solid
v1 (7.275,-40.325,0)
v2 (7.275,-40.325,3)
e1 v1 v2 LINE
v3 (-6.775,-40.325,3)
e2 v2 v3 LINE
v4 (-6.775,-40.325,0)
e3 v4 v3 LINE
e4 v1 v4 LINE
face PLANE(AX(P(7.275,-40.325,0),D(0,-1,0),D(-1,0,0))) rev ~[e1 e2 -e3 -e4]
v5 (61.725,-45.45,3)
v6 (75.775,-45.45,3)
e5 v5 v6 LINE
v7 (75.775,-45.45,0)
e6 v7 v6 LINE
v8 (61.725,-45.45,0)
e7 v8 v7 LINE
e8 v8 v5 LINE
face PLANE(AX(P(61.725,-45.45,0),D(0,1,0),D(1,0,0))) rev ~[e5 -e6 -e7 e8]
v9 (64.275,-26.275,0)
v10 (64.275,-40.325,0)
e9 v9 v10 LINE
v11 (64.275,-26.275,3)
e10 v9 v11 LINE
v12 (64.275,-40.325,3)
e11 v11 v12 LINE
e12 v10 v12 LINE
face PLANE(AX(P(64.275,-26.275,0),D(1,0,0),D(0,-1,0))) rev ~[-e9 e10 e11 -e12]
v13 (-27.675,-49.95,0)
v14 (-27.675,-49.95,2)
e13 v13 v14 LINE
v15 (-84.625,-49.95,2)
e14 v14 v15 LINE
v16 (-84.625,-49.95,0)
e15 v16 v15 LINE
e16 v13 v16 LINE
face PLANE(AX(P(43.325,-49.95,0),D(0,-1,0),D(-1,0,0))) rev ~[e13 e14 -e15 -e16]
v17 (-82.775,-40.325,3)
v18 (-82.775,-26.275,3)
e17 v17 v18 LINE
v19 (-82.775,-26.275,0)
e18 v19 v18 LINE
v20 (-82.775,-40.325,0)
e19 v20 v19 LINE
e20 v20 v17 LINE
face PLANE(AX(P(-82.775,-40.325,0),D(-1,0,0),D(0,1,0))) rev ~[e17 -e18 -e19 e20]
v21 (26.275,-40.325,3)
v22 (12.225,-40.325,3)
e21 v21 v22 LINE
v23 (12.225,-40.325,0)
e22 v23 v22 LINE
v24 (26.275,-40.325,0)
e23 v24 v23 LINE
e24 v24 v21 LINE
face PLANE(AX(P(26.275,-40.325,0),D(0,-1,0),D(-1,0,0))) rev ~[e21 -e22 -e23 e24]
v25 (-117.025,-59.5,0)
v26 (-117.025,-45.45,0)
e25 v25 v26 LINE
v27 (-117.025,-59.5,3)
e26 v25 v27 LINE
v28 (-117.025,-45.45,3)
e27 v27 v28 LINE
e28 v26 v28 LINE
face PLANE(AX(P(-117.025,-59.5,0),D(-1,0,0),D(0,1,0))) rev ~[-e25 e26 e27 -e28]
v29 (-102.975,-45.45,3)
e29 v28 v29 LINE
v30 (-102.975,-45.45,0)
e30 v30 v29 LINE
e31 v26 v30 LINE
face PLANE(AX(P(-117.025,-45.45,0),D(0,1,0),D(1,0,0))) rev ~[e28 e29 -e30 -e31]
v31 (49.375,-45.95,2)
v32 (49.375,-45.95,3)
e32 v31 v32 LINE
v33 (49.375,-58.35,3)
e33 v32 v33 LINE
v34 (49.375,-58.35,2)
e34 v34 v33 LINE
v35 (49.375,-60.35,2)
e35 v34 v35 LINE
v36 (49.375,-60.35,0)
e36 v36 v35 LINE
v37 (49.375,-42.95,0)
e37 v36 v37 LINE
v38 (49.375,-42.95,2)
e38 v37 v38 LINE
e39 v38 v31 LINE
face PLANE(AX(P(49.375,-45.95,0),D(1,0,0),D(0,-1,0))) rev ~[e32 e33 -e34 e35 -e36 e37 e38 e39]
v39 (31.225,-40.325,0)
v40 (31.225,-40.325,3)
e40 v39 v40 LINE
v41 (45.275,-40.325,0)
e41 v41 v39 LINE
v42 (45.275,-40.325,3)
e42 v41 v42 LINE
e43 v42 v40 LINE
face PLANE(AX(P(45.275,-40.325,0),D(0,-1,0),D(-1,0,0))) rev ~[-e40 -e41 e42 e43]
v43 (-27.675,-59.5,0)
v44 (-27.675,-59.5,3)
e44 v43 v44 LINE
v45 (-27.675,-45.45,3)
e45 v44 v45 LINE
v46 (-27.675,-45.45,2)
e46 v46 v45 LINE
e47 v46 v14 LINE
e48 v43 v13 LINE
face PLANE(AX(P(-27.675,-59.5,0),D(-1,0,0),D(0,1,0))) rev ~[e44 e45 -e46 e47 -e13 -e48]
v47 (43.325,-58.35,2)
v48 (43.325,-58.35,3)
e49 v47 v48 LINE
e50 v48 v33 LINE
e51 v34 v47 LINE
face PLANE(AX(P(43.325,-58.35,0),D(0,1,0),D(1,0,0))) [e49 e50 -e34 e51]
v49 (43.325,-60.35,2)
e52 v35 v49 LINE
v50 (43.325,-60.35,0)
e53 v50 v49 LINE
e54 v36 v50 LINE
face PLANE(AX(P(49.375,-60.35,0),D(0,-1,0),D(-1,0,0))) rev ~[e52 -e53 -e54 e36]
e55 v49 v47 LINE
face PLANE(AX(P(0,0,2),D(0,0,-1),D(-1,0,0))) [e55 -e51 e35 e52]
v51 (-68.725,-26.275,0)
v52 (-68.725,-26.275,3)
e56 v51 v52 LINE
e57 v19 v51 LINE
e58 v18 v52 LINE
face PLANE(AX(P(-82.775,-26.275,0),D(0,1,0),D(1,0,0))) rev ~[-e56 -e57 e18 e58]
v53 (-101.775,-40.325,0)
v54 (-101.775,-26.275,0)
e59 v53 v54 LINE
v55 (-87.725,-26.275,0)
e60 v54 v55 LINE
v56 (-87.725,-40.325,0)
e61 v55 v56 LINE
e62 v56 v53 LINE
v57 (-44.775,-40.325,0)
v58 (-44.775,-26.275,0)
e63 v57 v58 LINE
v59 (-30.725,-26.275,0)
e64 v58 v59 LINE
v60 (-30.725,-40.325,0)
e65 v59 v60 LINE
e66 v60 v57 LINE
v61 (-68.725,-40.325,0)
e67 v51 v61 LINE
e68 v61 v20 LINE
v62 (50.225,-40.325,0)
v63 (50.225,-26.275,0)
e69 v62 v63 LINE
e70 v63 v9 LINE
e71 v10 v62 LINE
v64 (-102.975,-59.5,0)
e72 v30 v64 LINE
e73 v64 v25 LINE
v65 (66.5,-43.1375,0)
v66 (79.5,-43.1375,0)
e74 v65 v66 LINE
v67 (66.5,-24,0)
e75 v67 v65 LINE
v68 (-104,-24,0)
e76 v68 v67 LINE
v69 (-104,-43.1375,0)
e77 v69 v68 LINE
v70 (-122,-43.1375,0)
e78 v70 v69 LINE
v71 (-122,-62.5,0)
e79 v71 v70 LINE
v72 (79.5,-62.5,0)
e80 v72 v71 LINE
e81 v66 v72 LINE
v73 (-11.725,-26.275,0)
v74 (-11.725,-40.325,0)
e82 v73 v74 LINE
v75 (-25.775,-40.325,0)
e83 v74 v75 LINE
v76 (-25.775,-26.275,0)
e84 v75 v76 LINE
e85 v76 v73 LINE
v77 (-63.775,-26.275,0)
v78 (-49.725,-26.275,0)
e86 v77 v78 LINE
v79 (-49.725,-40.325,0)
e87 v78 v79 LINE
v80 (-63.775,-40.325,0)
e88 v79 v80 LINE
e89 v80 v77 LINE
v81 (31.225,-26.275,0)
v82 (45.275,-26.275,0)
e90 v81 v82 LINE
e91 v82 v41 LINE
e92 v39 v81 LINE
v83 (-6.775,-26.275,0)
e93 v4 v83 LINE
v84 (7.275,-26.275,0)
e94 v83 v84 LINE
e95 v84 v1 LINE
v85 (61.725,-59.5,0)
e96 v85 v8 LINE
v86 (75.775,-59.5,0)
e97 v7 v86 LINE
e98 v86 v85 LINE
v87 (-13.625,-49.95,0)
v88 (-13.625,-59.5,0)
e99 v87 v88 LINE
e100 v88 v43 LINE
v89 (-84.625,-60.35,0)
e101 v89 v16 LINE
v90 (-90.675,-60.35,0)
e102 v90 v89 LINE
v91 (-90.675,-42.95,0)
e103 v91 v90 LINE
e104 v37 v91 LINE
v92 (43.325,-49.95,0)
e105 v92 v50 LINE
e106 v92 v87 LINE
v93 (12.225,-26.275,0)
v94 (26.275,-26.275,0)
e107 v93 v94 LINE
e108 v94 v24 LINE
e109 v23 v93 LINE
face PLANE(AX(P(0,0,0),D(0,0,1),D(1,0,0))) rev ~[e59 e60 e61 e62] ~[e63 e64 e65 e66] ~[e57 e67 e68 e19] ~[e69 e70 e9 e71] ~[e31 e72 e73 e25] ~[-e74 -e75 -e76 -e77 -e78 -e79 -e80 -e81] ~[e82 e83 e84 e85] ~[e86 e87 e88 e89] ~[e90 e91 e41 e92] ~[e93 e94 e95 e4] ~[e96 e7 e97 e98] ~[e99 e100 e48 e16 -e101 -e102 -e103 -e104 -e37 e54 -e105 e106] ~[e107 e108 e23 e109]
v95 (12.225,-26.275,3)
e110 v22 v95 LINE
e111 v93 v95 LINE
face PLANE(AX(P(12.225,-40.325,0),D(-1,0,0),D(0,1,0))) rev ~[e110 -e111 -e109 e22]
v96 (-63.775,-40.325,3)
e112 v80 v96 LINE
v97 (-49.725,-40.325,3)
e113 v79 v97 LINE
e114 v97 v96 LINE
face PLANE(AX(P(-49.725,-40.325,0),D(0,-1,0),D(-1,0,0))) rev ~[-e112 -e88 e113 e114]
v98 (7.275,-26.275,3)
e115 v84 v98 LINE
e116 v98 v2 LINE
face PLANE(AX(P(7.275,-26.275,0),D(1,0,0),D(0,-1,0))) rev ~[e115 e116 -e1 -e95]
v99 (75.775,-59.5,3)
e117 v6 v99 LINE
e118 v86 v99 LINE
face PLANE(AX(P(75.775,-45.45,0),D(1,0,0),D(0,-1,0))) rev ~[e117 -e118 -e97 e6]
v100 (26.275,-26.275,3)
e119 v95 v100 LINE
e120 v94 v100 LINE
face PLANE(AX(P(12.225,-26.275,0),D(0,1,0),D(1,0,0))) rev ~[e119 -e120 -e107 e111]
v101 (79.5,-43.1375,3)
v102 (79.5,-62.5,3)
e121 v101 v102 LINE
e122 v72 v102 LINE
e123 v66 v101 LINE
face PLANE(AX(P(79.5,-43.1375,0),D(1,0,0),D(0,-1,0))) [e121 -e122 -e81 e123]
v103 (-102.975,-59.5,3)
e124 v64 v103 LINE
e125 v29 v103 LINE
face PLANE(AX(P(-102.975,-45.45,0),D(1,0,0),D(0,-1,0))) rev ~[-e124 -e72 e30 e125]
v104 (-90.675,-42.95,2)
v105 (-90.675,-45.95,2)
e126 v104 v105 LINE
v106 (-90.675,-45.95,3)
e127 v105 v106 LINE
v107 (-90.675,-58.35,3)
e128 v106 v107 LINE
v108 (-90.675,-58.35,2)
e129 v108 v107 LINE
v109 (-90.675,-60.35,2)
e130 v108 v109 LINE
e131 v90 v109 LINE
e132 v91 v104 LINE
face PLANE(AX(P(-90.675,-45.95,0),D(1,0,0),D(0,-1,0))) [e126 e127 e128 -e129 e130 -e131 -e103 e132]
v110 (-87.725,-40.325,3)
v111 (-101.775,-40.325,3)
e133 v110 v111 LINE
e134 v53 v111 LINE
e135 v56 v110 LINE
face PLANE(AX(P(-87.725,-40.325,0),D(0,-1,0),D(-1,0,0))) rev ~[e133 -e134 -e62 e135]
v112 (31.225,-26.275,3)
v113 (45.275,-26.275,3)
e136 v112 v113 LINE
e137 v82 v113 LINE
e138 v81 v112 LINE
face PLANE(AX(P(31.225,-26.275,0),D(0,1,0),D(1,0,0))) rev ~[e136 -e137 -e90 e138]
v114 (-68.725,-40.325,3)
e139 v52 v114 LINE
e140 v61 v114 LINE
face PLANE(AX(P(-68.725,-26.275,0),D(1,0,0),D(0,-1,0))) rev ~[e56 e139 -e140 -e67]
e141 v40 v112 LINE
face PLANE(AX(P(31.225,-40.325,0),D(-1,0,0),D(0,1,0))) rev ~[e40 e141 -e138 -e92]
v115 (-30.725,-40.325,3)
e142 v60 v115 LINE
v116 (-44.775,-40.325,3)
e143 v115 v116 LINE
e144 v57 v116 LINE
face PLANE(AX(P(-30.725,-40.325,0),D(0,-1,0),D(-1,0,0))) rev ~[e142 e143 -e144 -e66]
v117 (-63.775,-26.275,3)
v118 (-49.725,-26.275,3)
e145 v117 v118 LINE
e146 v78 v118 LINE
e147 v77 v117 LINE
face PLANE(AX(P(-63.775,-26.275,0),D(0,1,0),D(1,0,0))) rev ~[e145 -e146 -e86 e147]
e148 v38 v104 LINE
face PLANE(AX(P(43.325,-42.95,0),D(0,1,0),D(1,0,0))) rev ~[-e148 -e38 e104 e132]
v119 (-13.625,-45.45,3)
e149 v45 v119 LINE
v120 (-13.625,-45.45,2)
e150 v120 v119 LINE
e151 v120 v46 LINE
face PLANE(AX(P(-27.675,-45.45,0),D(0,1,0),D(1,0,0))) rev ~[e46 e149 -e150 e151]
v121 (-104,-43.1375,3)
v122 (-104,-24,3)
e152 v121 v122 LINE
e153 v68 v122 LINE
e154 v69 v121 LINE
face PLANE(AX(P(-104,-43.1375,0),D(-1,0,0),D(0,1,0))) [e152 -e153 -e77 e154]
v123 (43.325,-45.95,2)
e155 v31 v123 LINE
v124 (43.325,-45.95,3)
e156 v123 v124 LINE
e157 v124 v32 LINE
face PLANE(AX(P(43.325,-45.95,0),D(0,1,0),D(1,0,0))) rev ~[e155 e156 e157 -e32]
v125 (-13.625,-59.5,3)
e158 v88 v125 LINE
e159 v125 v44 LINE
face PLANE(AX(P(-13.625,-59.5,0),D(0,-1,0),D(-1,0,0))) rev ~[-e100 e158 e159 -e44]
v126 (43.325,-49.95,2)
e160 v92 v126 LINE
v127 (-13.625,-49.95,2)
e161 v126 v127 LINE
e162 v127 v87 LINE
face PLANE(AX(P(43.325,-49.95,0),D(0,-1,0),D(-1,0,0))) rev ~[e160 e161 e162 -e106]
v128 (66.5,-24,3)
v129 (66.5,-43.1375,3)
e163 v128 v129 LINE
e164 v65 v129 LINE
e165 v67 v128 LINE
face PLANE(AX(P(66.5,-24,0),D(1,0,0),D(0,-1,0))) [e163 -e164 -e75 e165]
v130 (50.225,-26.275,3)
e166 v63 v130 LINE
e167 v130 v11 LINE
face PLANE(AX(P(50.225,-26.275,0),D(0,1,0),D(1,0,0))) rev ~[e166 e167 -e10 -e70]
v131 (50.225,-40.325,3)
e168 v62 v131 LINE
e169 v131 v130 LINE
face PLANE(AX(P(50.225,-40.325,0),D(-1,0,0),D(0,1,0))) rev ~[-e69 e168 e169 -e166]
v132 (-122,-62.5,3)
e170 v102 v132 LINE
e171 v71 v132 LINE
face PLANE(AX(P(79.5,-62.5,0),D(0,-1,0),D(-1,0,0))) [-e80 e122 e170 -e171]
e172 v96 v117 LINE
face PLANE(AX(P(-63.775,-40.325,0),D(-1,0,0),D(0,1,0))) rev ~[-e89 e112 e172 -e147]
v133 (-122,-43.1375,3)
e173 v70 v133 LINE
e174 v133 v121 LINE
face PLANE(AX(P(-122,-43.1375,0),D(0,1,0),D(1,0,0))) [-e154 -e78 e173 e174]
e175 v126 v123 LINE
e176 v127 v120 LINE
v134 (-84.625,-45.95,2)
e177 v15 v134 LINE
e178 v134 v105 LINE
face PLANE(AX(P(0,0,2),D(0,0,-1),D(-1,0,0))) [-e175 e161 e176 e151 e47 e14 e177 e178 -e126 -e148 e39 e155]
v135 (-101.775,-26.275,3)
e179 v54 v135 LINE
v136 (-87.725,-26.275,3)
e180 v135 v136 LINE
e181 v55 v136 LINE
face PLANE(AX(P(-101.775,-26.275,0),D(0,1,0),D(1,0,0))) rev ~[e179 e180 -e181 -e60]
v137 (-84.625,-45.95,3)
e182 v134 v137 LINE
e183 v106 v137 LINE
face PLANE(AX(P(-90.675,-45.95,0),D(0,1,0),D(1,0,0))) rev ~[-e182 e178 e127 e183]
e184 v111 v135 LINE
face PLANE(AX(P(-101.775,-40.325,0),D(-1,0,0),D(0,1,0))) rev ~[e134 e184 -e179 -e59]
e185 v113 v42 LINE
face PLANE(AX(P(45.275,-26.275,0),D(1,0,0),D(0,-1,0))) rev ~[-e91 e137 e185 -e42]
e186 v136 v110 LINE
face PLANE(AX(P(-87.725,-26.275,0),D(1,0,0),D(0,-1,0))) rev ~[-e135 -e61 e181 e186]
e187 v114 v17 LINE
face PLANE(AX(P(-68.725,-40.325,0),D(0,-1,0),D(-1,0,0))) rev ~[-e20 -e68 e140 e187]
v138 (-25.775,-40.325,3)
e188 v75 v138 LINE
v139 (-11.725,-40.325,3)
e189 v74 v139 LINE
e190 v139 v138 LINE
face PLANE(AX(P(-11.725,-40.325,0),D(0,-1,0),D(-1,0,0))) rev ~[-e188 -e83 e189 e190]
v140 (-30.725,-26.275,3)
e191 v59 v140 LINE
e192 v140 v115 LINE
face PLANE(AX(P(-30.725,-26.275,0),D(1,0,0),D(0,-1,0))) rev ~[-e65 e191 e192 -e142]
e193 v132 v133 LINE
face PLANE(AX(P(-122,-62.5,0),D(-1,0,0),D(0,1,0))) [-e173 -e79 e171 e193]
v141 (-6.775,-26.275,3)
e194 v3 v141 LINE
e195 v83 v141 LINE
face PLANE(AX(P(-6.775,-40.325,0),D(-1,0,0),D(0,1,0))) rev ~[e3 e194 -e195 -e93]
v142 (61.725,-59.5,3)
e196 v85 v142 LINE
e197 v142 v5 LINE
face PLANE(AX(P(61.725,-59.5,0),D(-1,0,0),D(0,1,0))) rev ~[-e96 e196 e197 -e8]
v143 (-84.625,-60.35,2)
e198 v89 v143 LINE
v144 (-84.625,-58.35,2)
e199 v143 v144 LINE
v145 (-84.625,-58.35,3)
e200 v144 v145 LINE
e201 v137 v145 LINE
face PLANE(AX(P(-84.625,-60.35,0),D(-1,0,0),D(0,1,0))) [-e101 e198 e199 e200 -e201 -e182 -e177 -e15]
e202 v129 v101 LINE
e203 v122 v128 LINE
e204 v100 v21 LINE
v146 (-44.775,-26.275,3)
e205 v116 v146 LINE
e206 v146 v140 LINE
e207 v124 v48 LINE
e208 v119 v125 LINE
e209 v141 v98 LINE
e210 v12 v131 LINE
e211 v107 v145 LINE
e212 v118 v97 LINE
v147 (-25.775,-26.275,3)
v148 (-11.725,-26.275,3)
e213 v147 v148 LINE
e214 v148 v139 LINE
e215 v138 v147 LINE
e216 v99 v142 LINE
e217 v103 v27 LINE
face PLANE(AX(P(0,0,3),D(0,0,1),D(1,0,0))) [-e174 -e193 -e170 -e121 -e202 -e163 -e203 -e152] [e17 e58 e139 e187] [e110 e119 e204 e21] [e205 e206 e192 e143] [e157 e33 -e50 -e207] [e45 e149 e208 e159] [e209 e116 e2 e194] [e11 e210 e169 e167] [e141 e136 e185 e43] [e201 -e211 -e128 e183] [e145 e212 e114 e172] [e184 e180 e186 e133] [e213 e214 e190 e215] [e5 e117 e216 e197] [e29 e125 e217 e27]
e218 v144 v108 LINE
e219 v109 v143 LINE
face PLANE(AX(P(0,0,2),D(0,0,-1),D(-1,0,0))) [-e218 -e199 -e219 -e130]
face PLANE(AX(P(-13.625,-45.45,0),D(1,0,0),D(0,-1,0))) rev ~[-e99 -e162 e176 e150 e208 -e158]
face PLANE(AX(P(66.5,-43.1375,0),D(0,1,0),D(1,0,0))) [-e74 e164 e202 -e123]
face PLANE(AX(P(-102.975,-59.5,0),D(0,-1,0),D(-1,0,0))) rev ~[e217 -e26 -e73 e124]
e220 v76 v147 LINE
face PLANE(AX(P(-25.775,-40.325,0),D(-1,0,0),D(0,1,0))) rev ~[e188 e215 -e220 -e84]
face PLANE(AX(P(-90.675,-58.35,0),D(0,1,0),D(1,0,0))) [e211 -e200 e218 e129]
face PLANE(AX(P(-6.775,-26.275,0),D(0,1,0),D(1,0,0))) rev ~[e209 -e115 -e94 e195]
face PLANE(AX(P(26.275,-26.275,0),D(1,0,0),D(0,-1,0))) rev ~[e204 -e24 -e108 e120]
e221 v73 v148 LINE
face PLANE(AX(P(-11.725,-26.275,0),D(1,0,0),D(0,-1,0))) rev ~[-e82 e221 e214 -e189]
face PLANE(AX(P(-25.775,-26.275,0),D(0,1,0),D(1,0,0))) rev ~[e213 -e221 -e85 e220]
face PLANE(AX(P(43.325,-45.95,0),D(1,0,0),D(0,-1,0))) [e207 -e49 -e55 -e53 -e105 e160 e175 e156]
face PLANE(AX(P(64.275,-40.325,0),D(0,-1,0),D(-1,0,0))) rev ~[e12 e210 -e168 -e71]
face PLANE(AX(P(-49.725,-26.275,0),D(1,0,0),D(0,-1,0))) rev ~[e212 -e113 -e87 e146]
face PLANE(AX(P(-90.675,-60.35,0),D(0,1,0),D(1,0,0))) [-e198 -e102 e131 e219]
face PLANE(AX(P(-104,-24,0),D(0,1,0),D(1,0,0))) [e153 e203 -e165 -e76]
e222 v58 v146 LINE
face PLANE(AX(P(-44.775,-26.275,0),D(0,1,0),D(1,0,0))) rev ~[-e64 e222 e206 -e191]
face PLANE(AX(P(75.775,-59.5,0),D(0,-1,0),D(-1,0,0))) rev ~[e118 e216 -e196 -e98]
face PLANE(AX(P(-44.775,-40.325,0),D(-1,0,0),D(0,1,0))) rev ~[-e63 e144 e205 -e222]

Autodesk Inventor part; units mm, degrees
ref_plane "YZ Plane" through (0, 0, 0) normal (1, 0, 0) x (0, 1, 0)
ref_plane "XZ Plane" through (0, 0, 0) normal (0, 1, 0) x (-1, 0, 0)
ref_plane "XY Plane" through (0, 0, 0) normal (0, 0, 1) x (1, 0, 0)
sketch "Sketch1" plane through (0, 0, 0) normal (0, 0, 1) x (1, 0, 0)
  line L0 (31.275, 11.925) -> (31.275, -2.125) construction
  line L1 (31.275, -2.125) -> (17.225, -2.125) construction
  line L2 (17.225, -2.125) -> (17.225, 11.925) construction
  line L3 (17.225, 11.925) -> (31.275, 11.925) construction
  line L4 (-101.725, 11.925) -> (-101.725, -2.125) construction
  line L5 (-101.725, -2.125) -> (-115.775, -2.125) construction
  line L6 (-115.775, -2.125) -> (-115.775, 11.925) construction
  line L7 (-115.775, 11.925) -> (-101.725, 11.925) construction
  line L8 (43.325, -43.95) -> (49.375, -43.95) construction
  line L9 (49.375, -43.95) -> (49.375, -61) construction
  line L10 (49.375, -61) -> (43.325, -61) construction
  line L11 (43.325, -61) -> (43.325, -43.95) construction
  line L12 (117.95, -19.8) -> (117.95, -13.75) construction
  line L13 (117.95, -13.75) -> (135, -13.75) construction
  line L14 (135, -13.75) -> (135, -19.8) construction
  line L15 (135, -19.8) -> (117.95, -19.8) construction
  line L16 (26.325, -43.95) -> (32.375, -43.95) construction
  line L17 (32.375, -43.95) -> (32.375, -61) construction
  line L18 (32.375, -61) -> (26.325, -61) construction
  line L19 (26.325, -61) -> (26.325, -43.95) construction
  line L20 (-152.525, 13.425) -> (-146.475, 13.425) construction
  line L21 (-146.475, 13.425) -> (-146.475, -3.625) construction
  line L22 (-146.475, -3.625) -> (-152.525, -3.625) construction
  line L23 (-152.525, -3.625) -> (-152.525, 13.425) construction
  line L24 (-90.675, -43.95) -> (-84.625, -43.95) construction
  line L25 (-84.625, -43.95) -> (-84.625, -61) construction
  line L26 (-84.625, -61) -> (-90.675, -61) construction
  line L27 (-90.675, -61) -> (-90.675, -43.95) construction
  line L28 (39.375, -43.95) -> (39.375, -61) construction
  line L29 (39.375, -61) -> (33.325, -61) construction
  line L30 (33.325, -61) -> (33.325, -43.95) construction
  line L31 (33.325, -43.95) -> (39.375, -43.95) construction
  line L32 (117.95, 4.2) -> (117.95, 10.25) construction
  line L33 (117.95, 10.25) -> (135, 10.25) construction
  line L34 (135, 10.25) -> (135, 4.2) construction
  line L35 (135, 4.2) -> (117.95, 4.2) construction
  line L36 (-67.625, -43.95) -> (-67.625, -61) construction
  line L37 (-67.625, -61) -> (-73.675, -61) construction
  line L38 (-73.675, -61) -> (-73.675, -43.95) construction
  line L39 (-73.675, -43.95) -> (-67.625, -43.95) construction
  line L40 (-128.525, 13.425) -> (-122.475, 13.425) construction
  line L41 (-122.475, 13.425) -> (-122.475, -3.625) construction
  line L42 (-122.475, -3.625) -> (-128.525, -3.625) construction
  line L43 (-128.525, -3.625) -> (-128.525, 13.425) construction
  line L44 (-74.625, -43.95) -> (-74.625, -61) construction
  line L45 (-74.625, -61) -> (-80.675, -61) construction
  line L46 (-80.675, -61) -> (-80.675, -43.95) construction
  line L47 (-80.675, -43.95) -> (-74.625, -43.95) construction
  line L48 (-157.5, -62.5) -> (157.5, -62.5) construction
  line L49 (157.5, -62.5) -> (157.5, -41.5) construction
  line L50 (157.5, -41.5) -> (139.5, -41.5) construction
  line L51 (139.5, -41.5) -> (139.5, 12.5) construction
  line L52 (139.5, 12.5) -> (157.5, 12.5) construction
  line L53 (157.5, 12.5) -> (157.5, 62.5) construction
  line L54 (157.5, 62.5) -> (-157.5, 62.5) construction
  line L55 (-157.5, 62.5) -> (-157.5, -62.5) construction
  line L56 (-38.5, 42.5) -> (6.5, 42.5) construction
  line L57 (6.5, 42.5) -> (6.5, 33.5) construction
  line L58 (6.5, 33.5) -> (-38.5, 33.5) construction
  line L59 (-38.5, 33.5) -> (-38.5, 42.5) construction
  line L60 (154.775, -45.45) -> (154.775, -59.5) construction
  line L61 (154.775, -59.5) -> (140.725, -59.5) construction
  line L62 (140.725, -59.5) -> (140.725, -45.45) construction
  line L63 (140.725, -45.45) -> (154.775, -45.45) construction
  line L64 (135.775, -45.45) -> (135.775, -59.5) construction
  line L65 (135.775, -59.5) -> (121.725, -59.5) construction
  line L66 (121.725, -59.5) -> (121.725, -45.45) construction
  line L67 (121.725, -45.45) -> (135.775, -45.45) construction
  line L68 (116.775, -45.45) -> (116.775, -59.5) construction
  line L69 (116.775, -59.5) -> (102.725, -59.5) construction
  line L70 (102.725, -59.5) -> (102.725, -45.45) construction
  line L71 (102.725, -45.45) -> (116.775, -45.45) construction
  line L72 (97.775, -45.45) -> (97.775, -59.5) construction
  line L73 (97.775, -59.5) -> (83.725, -59.5) construction
  line L74 (83.725, -59.5) -> (83.725, -45.45) construction
  line L75 (83.725, -45.45) -> (97.775, -45.45) construction
  line L76 (75.775, -45.45) -> (75.775, -59.5) construction
  line L77 (75.775, -59.5) -> (61.725, -59.5) construction
  line L78 (61.725, -59.5) -> (61.725, -45.45) construction
  line L79 (61.725, -45.45) -> (75.775, -45.45) construction
  line L80 (-13.625, -45.45) -> (-13.625, -59.5) construction
  line L81 (-13.625, -59.5) -> (-27.675, -59.5) construction
  line L82 (-27.675, -59.5) -> (-27.675, -45.45) construction
  line L83 (-27.675, -45.45) -> (-13.625, -45.45) construction
  line L84 (-102.975, -45.45) -> (-102.975, -59.5) construction
  line L85 (-102.975, -59.5) -> (-117.025, -59.5) construction
  line L86 (-117.025, -59.5) -> (-117.025, -45.45) construction
  line L87 (-117.025, -45.45) -> (-102.975, -45.45) construction
  line L88 (-141.525, -45.45) -> (-127.475, -45.45) construction
  line L89 (-127.475, -45.45) -> (-127.475, -59.5) construction
  line L90 (-127.475, -59.5) -> (-141.525, -59.5) construction
  line L91 (-141.525, -59.5) -> (-141.525, -45.45) construction
  line L92 (121.725, -26.275) -> (135.775, -26.275) construction
  line L93 (135.775, -26.275) -> (135.775, -40.325) construction
  line L94 (135.775, -40.325) -> (121.725, -40.325) construction
  line L95 (121.725, -40.325) -> (121.725, -26.275) construction
  line L96 (95.475, -26.275) -> (109.525, -26.275) construction
  line L97 (109.525, -26.275) -> (109.525, -40.325) construction
  line L98 (109.525, -40.325) -> (95.475, -40.325) construction
  line L99 (95.475, -40.325) -> (95.475, -26.275) construction
  line L100 (69.225, -26.275) -> (83.275, -26.275) construction
  line L101 (83.275, -26.275) -> (83.275, -40.325) construction
  line L102 (83.275, -40.325) -> (69.225, -40.325) construction
  line L103 (69.225, -40.325) -> (69.225, -26.275) construction
  line L104 (50.225, -26.275) -> (64.275, -26.275) construction
  line L105 (64.275, -26.275) -> (64.275, -40.325) construction
  line L106 (64.275, -40.325) -> (50.225, -40.325) construction
  line L107 (50.225, -40.325) -> (50.225, -26.275) construction
  line L108 (31.225, -26.275) -> (45.275, -26.275) construction
  line L109 (45.275, -26.275) -> (45.275, -40.325) construction
  line L110 (45.275, -40.325) -> (31.225, -40.325) construction
  line L111 (31.225, -40.325) -> (31.225, -26.275) construction
  line L112 (12.225, -26.275) -> (26.275, -26.275) construction
  line L113 (26.275, -26.275) -> (26.275, -40.325) construction
  line L114 (26.275, -40.325) -> (12.225, -40.325) construction
  line L115 (12.225, -40.325) -> (12.225, -26.275) construction
  line L116 (-6.775, -26.275) -> (7.275, -26.275) construction
  line L117 (7.275, -26.275) -> (7.275, -40.325) construction
  line L118 (7.275, -40.325) -> (-6.775, -40.325) construction
  line L119 (-6.775, -40.325) -> (-6.775, -26.275) construction
  line L120 (-25.775, -26.275) -> (-11.725, -26.275) construction
  line L121 (-11.725, -26.275) -> (-11.725, -40.325) construction
  line L122 (-11.725, -40.325) -> (-25.775, -40.325) construction
  line L123 (-25.775, -40.325) -> (-25.775, -26.275) construction
  line L124 (-44.775, -26.275) -> (-30.725, -26.275) construction
  line L125 (-30.725, -26.275) -> (-30.725, -40.325) construction
  line L126 (-30.725, -40.325) -> (-44.775, -40.325) construction
  line L127 (-44.775, -40.325) -> (-44.775, -26.275) construction
  line L128 (-63.775, -26.275) -> (-49.725, -26.275) construction
  line L129 (-49.725, -26.275) -> (-49.725, -40.325) construction
  line L130 (-49.725, -40.325) -> (-63.775, -40.325) construction
  line L131 (-63.775, -40.325) -> (-63.775, -26.275) construction
  line L132 (-82.775, -26.275) -> (-68.725, -26.275) construction
  line L133 (-68.725, -26.275) -> (-68.725, -40.325) construction
  line L134 (-68.725, -40.325) -> (-82.775, -40.325) construction
  line L135 (-82.775, -40.325) -> (-82.775, -26.275) construction
  line L136 (-101.775, -26.275) -> (-87.725, -26.275) construction
  line L137 (-87.725, -26.275) -> (-87.725, -40.325) construction
  line L138 (-87.725, -40.325) -> (-101.775, -40.325) construction
  line L139 (-101.775, -40.325) -> (-101.775, -26.275) construction
  line L140 (-120.775, -26.275) -> (-106.725, -26.275) construction
  line L141 (-106.725, -26.275) -> (-106.725, -40.325) construction
  line L142 (-106.725, -40.325) -> (-120.775, -40.325) construction
  line L143 (-120.775, -40.325) -> (-120.775, -26.275) construction
  line L144 (-146.775, -26.275) -> (-132.725, -26.275) construction
  line L145 (-132.725, -26.275) -> (-132.725, -40.325) construction
  line L146 (-132.725, -40.325) -> (-146.775, -40.325) construction
  line L147 (-146.775, -40.325) -> (-146.775, -26.275) construction
  line L148 (97.975, -7.175) -> (112.025, -7.175) construction
  line L149 (112.025, -7.175) -> (112.025, -21.225) construction
  line L150 (112.025, -21.225) -> (97.975, -21.225) construction
  line L151 (97.975, -21.225) -> (97.975, -7.175) construction
  line L152 (78.975, -7.175) -> (93.025, -7.175) construction
  line L153 (93.025, -7.175) -> (93.025, -21.225) construction
  line L154 (93.025, -21.225) -> (78.975, -21.225) construction
  line L155 (78.975, -21.225) -> (78.975, -7.175) construction
  line L156 (59.975, -7.175) -> (74.025, -7.175) construction
  line L157 (74.025, -7.175) -> (74.025, -21.225) construction
  line L158 (74.025, -21.225) -> (59.975, -21.225) construction
  line L159 (59.975, -21.225) -> (59.975, -7.175) construction
  line L160 (40.975, -7.175) -> (55.025, -7.175) construction
  line L161 (55.025, -7.175) -> (55.025, -21.225) construction
  line L162 (55.025, -21.225) -> (40.975, -21.225) construction
  line L163 (40.975, -21.225) -> (40.975, -7.175) construction
  line L164 (21.975, -7.175) -> (36.025, -7.175) construction
  line L165 (36.025, -7.175) -> (36.025, -21.225) construction
  line L166 (36.025, -21.225) -> (21.975, -21.225) construction
  line L167 (21.975, -21.225) -> (21.975, -7.175) construction
  line L168 (2.975, -7.175) -> (17.025, -7.175) construction
  line L169 (17.025, -7.175) -> (17.025, -21.225) construction
  line L170 (17.025, -21.225) -> (2.975, -21.225) construction
  line L171 (2.975, -21.225) -> (2.975, -7.175) construction
  line L172 (-16.025, -7.175) -> (-1.975, -7.175) construction
  line L173 (-1.975, -7.175) -> (-1.975, -21.225) construction
  line L174 (-1.975, -21.225) -> (-16.025, -21.225) construction
  line L175 (-16.025, -21.225) -> (-16.025, -7.175) construction
  line L176 (-35.025, -7.175) -> (-20.975, -7.175) construction
  line L177 (-20.975, -7.175) -> (-20.975, -21.225) construction
  line L178 (-20.975, -21.225) -> (-35.025, -21.225) construction
  line L179 (-35.025, -21.225) -> (-35.025, -7.175) construction
  line L180 (-54.025, -7.175) -> (-39.975, -7.175) construction
  line L181 (-39.975, -7.175) -> (-39.975, -21.225) construction
  line L182 (-39.975, -21.225) -> (-54.025, -21.225) construction
  line L183 (-54.025, -21.225) -> (-54.025, -7.175) construction
  line L184 (-73.025, -7.175) -> (-58.975, -7.175) construction
  line L185 (-58.975, -7.175) -> (-58.975, -21.225) construction
  line L186 (-58.975, -21.225) -> (-73.025, -21.225) construction
  line L187 (-73.025, -21.225) -> (-73.025, -7.175) construction
  line L188 (-92.025, -7.175) -> (-77.975, -7.175) construction
  line L189 (-77.975, -7.175) -> (-77.975, -21.225) construction
  line L190 (-77.975, -21.225) -> (-92.025, -21.225) construction
  line L191 (-92.025, -21.225) -> (-92.025, -7.175) construction
  line L192 (-111.025, -7.175) -> (-96.975, -7.175) construction
  line L193 (-96.975, -7.175) -> (-96.975, -21.225) construction
  line L194 (-96.975, -21.225) -> (-111.025, -21.225) construction
  line L195 (-111.025, -21.225) -> (-111.025, -7.175) construction
  line L196 (-130.025, -7.175) -> (-115.975, -7.175) construction
  line L197 (-115.975, -7.175) -> (-115.975, -21.225) construction
  line L198 (-115.975, -21.225) -> (-130.025, -21.225) construction
  line L199 (-130.025, -21.225) -> (-130.025, -7.175) construction
  line L200 (-151.525, -7.175) -> (-137.475, -7.175) construction
  line L201 (-137.475, -7.175) -> (-137.475, -21.225) construction
  line L202 (-137.475, -21.225) -> (-151.525, -21.225) construction
  line L203 (-151.525, -21.225) -> (-151.525, -7.175) construction
  line L204 (119.45, 2.25) -> (133.5, 2.25) construction
  line L205 (133.5, 2.25) -> (133.5, -11.8) construction
  line L206 (133.5, -11.8) -> (119.45, -11.8) construction
  line L207 (119.45, -11.8) -> (119.45, 2.25) construction
  line L208 (107.275, 11.925) -> (107.275, -2.125) construction
  line L209 (107.275, -2.125) -> (93.225, -2.125) construction
  line L210 (93.225, -2.125) -> (93.225, 11.925) construction
  line L211 (93.225, 11.925) -> (107.275, 11.925) construction
  line L212 (88.275, 11.925) -> (88.275, -2.125) construction
  line L213 (88.275, -2.125) -> (74.225, -2.125) construction
  line L214 (74.225, -2.125) -> (74.225, 11.925) construction
  line L215 (74.225, 11.925) -> (88.275, 11.925) construction
  line L216 (69.275, 11.925) -> (69.275, -2.125) construction
  line L217 (69.275, -2.125) -> (55.225, -2.125) construction
  line L218 (55.225, -2.125) -> (55.225, 11.925) construction
  line L219 (55.225, 11.925) -> (69.275, 11.925) construction
  line L220 (50.275, 11.925) -> (50.275, -2.125) construction
  line L221 (50.275, -2.125) -> (36.225, -2.125) construction
  line L222 (36.225, -2.125) -> (36.225, 11.925) construction
  line L223 (36.225, 11.925) -> (50.275, 11.925) construction
  line L224 (12.275, 11.925) -> (12.275, -2.125) construction
  line L225 (12.275, -2.125) -> (-1.775, -2.125) construction
  line L226 (-1.775, -2.125) -> (-1.775, 11.925) construction
  line L227 (-1.775, 11.925) -> (12.275, 11.925) construction
  line L228 (-6.725, 11.925) -> (-6.725, -2.125) construction
  line L229 (-6.725, -2.125) -> (-20.775, -2.125) construction
  line L230 (-20.775, -2.125) -> (-20.775, 11.925) construction
  line L231 (-20.775, 11.925) -> (-6.725, 11.925) construction
  line L232 (-25.725, 11.925) -> (-25.725, -2.125) construction
  line L233 (-25.725, -2.125) -> (-39.775, -2.125) construction
  line L234 (-39.775, -2.125) -> (-39.775, 11.925) construction
  line L235 (-39.775, 11.925) -> (-25.725, 11.925) construction
  line L236 (-44.725, 11.925) -> (-44.725, -2.125) construction
  line L237 (-44.725, -2.125) -> (-58.775, -2.125) construction
  line L238 (-58.775, -2.125) -> (-58.775, 11.925) construction
  line L239 (-58.775, 11.925) -> (-44.725, 11.925) construction
  line L240 (-63.725, 11.925) -> (-63.725, -2.125) construction
  line L241 (-63.725, -2.125) -> (-77.775, -2.125) construction
  line L242 (-77.775, -2.125) -> (-77.775, 11.925) construction
  line L243 (-77.775, 11.925) -> (-63.725, 11.925) construction
  line L244 (-82.725, 11.925) -> (-82.725, -2.125) construction
  line L245 (-82.725, -2.125) -> (-96.775, -2.125) construction
  line L246 (-96.775, -2.125) -> (-96.775, 11.925) construction
  line L247 (-96.775, 11.925) -> (-82.725, 11.925) construction
  line L248 (-144.525, 11.925) -> (-130.475, 11.925) construction
  line L249 (-130.475, 11.925) -> (-130.475, -2.125) construction
  line L250 (-130.475, -2.125) -> (-144.525, -2.125) construction
  line L251 (-144.525, -2.125) -> (-144.525, 11.925) construction
  line L252 (154.525, 16.975) -> (140.475, 16.975) construction
  line L253 (140.475, 16.975) -> (140.475, 31.025) construction
  line L254 (140.475, 31.025) -> (154.525, 31.025) construction
  line L255 (154.525, 31.025) -> (154.525, 16.975) construction
  line L256 (135.525, 16.975) -> (121.475, 16.975) construction
  line L257 (121.475, 16.975) -> (121.475, 31.025) construction
  line L258 (121.475, 31.025) -> (135.525, 31.025) construction
  line L259 (135.525, 31.025) -> (135.525, 16.975) construction
  line L260 (116.525, 16.975) -> (102.475, 16.975) construction
  line L261 (102.475, 16.975) -> (102.475, 31.025) construction
  line L262 (102.475, 31.025) -> (116.525, 31.025) construction
  line L263 (116.525, 31.025) -> (116.525, 16.975) construction
  line L264 (97.525, 16.975) -> (83.475, 16.975) construction
  line L265 (83.475, 16.975) -> (83.475, 31.025) construction
  line L266 (83.475, 31.025) -> (97.525, 31.025) construction
  line L267 (97.525, 31.025) -> (97.525, 16.975) construction
  line L268 (78.525, 16.975) -> (64.475, 16.975) construction
  line L269 (64.475, 16.975) -> (64.475, 31.025) construction
  line L270 (64.475, 31.025) -> (78.525, 31.025) construction
  line L271 (78.525, 31.025) -> (78.525, 16.975) construction
  line L272 (59.525, 16.975) -> (45.475, 16.975) construction
  line L273 (45.475, 16.975) -> (45.475, 31.025) construction
  line L274 (45.475, 31.025) -> (59.525, 31.025) construction
  line L275 (59.525, 31.025) -> (59.525, 16.975) construction
  line L276 (40.525, 16.975) -> (26.475, 16.975) construction
  line L277 (26.475, 16.975) -> (26.475, 31.025) construction
  line L278 (26.475, 31.025) -> (40.525, 31.025) construction
  line L279 (40.525, 31.025) -> (40.525, 16.975) construction
  line L280 (21.525, 16.975) -> (7.475, 16.975) construction
  line L281 (7.475, 16.975) -> (7.475, 31.025) construction
  line L282 (7.475, 31.025) -> (21.525, 31.025) construction
  line L283 (21.525, 31.025) -> (21.525, 16.975) construction
  line L284 (2.525, 16.975) -> (-11.525, 16.975) construction
  line L285 (-11.525, 16.975) -> (-11.525, 31.025) construction
  line L286 (-11.525, 31.025) -> (2.525, 31.025) construction
  line L287 (2.525, 31.025) -> (2.525, 16.975) construction
  line L288 (-16.475, 16.975) -> (-30.525, 16.975) construction
  line L289 (-30.525, 16.975) -> (-30.525, 31.025) construction
  line L290 (-30.525, 31.025) -> (-16.475, 31.025) construction
  line L291 (-16.475, 31.025) -> (-16.475, 16.975) construction
  line L292 (-35.475, 16.975) -> (-49.525, 16.975) construction
  line L293 (-49.525, 16.975) -> (-49.525, 31.025) construction
  line L294 (-49.525, 31.025) -> (-35.475, 31.025) construction
  line L295 (-35.475, 31.025) -> (-35.475, 16.975) construction
  line L296 (-54.475, 16.975) -> (-68.525, 16.975) construction
  line L297 (-68.525, 16.975) -> (-68.525, 31.025) construction
  line L298 (-68.525, 31.025) -> (-54.475, 31.025) construction
  line L299 (-54.475, 31.025) -> (-54.475, 16.975) construction
  line L300 (-73.475, 16.975) -> (-87.525, 16.975) construction
  line L301 (-87.525, 16.975) -> (-87.525, 31.025) construction
  line L302 (-87.525, 31.025) -> (-73.475, 31.025) construction
  line L303 (-73.475, 31.025) -> (-73.475, 16.975) construction
  line L304 (-92.475, 16.975) -> (-106.525, 16.975) construction
  line L305 (-106.525, 16.975) -> (-106.525, 31.025) construction
  line L306 (-106.525, 31.025) -> (-92.475, 31.025) construction
  line L307 (-92.475, 31.025) -> (-92.475, 16.975) construction
  line L308 (-111.475, 16.975) -> (-125.525, 16.975) construction
  line L309 (-125.525, 16.975) -> (-125.525, 31.025) construction
  line L310 (-125.525, 31.025) -> (-111.475, 31.025) construction
  line L311 (-111.475, 31.025) -> (-111.475, 16.975) construction
  line L312 (-149.525, 31.025) -> (-135.475, 31.025) construction
  line L313 (-135.475, 31.025) -> (-135.475, 16.975) construction
  line L314 (-135.475, 16.975) -> (-149.525, 16.975) construction
  line L315 (-149.525, 16.975) -> (-149.525, 31.025) construction
  line L316 (138.975, 59.525) -> (153.025, 59.525) construction
  line L317 (153.025, 59.525) -> (153.025, 45.475) construction
  line L318 (153.025, 45.475) -> (138.975, 45.475) construction
  line L319 (138.975, 45.475) -> (138.975, 59.525) construction
  line L320 (105.475, 59.525) -> (119.525, 59.525) construction
  line L321 (119.525, 59.525) -> (119.525, 45.475) construction
  line L322 (119.525, 45.475) -> (105.475, 45.475) construction
  line L323 (105.475, 45.475) -> (105.475, 59.525) construction
  line L324 (81.475, 59.525) -> (95.525, 59.525) construction
  line L325 (95.525, 59.525) -> (95.525, 45.475) construction
  line L326 (95.525, 45.475) -> (81.475, 45.475) construction
  line L327 (81.475, 45.475) -> (81.475, 59.525) construction
  line L328 (57.475, 59.525) -> (71.525, 59.525) construction
  line L329 (71.525, 59.525) -> (71.525, 45.475) construction
  line L330 (71.525, 45.475) -> (57.475, 45.475) construction
  line L331 (57.475, 45.475) -> (57.475, 59.525) construction
  line L332 (33.475, 59.525) -> (47.525, 59.525) construction
  line L333 (47.525, 59.525) -> (47.525, 45.475) construction
  line L334 (47.525, 45.475) -> (33.475, 45.475) construction
  line L335 (33.475, 45.475) -> (33.475, 59.525) construction
  line L336 (9.475, 59.525) -> (23.525, 59.525) construction
  line L337 (23.525, 59.525) -> (23.525, 45.475) construction
  line L338 (23.525, 45.475) -> (9.475, 45.475) construction
  line L339 (9.475, 45.475) -> (9.475, 59.525) construction
  line L340 (-23.025, 59.525) -> (-8.975, 59.525) construction
  line L341 (-8.975, 59.525) -> (-8.975, 45.475) construction
  line L342 (-8.975, 45.475) -> (-23.025, 45.475) construction
  line L343 (-23.025, 45.475) -> (-23.025, 59.525) construction
  line L344 (-47.025, 59.525) -> (-32.975, 59.525) construction
  line L345 (-32.975, 59.525) -> (-32.975, 45.475) construction
  line L346 (-32.975, 45.475) -> (-47.025, 45.475) construction
  line L347 (-47.025, 45.475) -> (-47.025, 59.525) construction
  line L348 (-71.025, 59.525) -> (-56.975, 59.525) construction
  line L349 (-56.975, 59.525) -> (-56.975, 45.475) construction
  line L350 (-56.975, 45.475) -> (-71.025, 45.475) construction
  line L351 (-71.025, 45.475) -> (-71.025, 59.525) construction
  line L352 (-95.025, 59.525) -> (-80.975, 59.525) construction
  line L353 (-80.975, 59.525) -> (-80.975, 45.475) construction
  line L354 (-80.975, 45.475) -> (-95.025, 45.475) construction
  line L355 (-95.025, 45.475) -> (-95.025, 59.525) construction
  line L356 (-119.025, 59.525) -> (-104.975, 59.525) construction
  line L357 (-104.975, 59.525) -> (-104.975, 45.475) construction
  line L358 (-104.975, 45.475) -> (-119.025, 45.475) construction
  line L359 (-119.025, 45.475) -> (-119.025, 59.525) construction
  line L360 (-152.025, 59.525) -> (-137.975, 59.525) construction
  line L361 (-137.975, 59.525) -> (-137.975, 45.475) construction
  line L362 (-137.975, 45.475) -> (-152.025, 45.475) construction
  line L363 (-152.025, 45.475) -> (-152.025, 59.525) construction
  line L364 (-122.25, -62.5) -> (-122.25, -42.8875) construction
  line L365 (-122.25, -42.8875) -> (-104.25, -42.8875) construction
  line L366 (-104.25, -42.8875) -> (-104.25, -23.75) construction
  line L367 (-104.25, -23.75) -> (66.75, -23.75) construction
  line L368 (66.75, -23.75) -> (66.75, -42.8875) construction
  line L369 (66.75, -42.8875) -> (79.75, -42.8875) construction
  line L370 (79.75, -42.8875) -> (79.75, -62.5) construction
  line L371 (75.775, -45.45) -> (79.75, -45.45) construction
  line L372 (79.75, -45.45) -> (83.725, -45.45) construction
  line L373 (75.775, -45.45) -> (75.775, -42.8875) construction
  line L374 (75.775, -42.8875) -> (75.775, -40.325) construction
  line L375 (69.225, -40.325) -> (66.75, -40.325) construction
  line L376 (66.75, -40.325) -> (64.275, -40.325) construction
  line L377 (64.275, -26.275) -> (64.275, -23.75) construction
  line L378 (64.275, -23.75) -> (64.275, -21.225) construction
  line L379 (-106.725, -26.275) -> (-104.25, -26.275) construction
  line L380 (-104.25, -26.275) -> (-101.775, -26.275) construction
  line L381 (-106.725, -40.325) -> (-106.725, -42.8875) construction
  line L382 (-106.725, -42.8875) -> (-106.725, -45.45) construction
  line L383 (-127.475, -45.45) -> (-122.25, -45.45) construction
  line L384 (-122.25, -45.45) -> (-117.025, -45.45) construction
  line L385 (-122, -62.5) -> (-122, -43.1375)
  line L386 (-122, -43.1375) -> (-104, -43.1375)
  line L387 (-104, -43.1375) -> (-104, -24)
  line L388 (-104, -24) -> (66.5, -24)
  line L389 (66.5, -24) -> (66.5, -43.1375)
  line L390 (66.5, -43.1375) -> (79.5, -43.1375)
  line L391 (79.5, -43.1375) -> (79.5, -62.5)
  line L392 (79.5, -62.5) -> (-122, -62.5)
  line L393 (-102.975, -45.45) -> (-102.975, -59.5) projected
  line L394 (-117.025, -45.45) -> (-102.975, -45.45) projected
  line L395 (-117.025, -59.5) -> (-117.025, -45.45) projected
  line L396 (-102.975, -59.5) -> (-117.025, -59.5) projected
  line L397 (-87.725, -40.325) -> (-101.775, -40.325) projected
  line L398 (-101.775, -40.325) -> (-101.775, -26.275) projected
  line L399 (-101.775, -26.275) -> (-87.725, -26.275) projected
  line L400 (-87.725, -26.275) -> (-87.725, -40.325) projected
  line L401 (-82.775, -40.325) -> (-82.775, -26.275) projected
  line L402 (-82.775, -26.275) -> (-68.725, -26.275) projected
  line L403 (-68.725, -26.275) -> (-68.725, -40.325) projected
  line L404 (-68.725, -40.325) -> (-82.775, -40.325) projected
  line L405 (-49.725, -40.325) -> (-63.775, -40.325) projected
  line L406 (-63.775, -40.325) -> (-63.775, -26.275) projected
  line L407 (-49.725, -26.275) -> (-49.725, -40.325) projected
  line L408 (-63.775, -26.275) -> (-49.725, -26.275) projected
  line L409 (-44.775, -40.325) -> (-44.775, -26.275) projected
  line L410 (-44.775, -26.275) -> (-30.725, -26.275) projected
  line L411 (-30.725, -40.325) -> (-44.775, -40.325) projected
  line L412 (-30.725, -26.275) -> (-30.725, -40.325) projected
  line L413 (-25.775, -26.275) -> (-11.725, -26.275) projected
  line L414 (-25.775, -40.325) -> (-25.775, -26.275) projected
  line L415 (-11.725, -26.275) -> (-11.725, -40.325) projected
  line L416 (-11.725, -40.325) -> (-25.775, -40.325) projected
  line L417 (-27.675, -45.45) -> (-13.625, -45.45) projected
  line L418 (-13.625, -45.45) -> (-13.625, -59.5) projected
  line L419 (-27.675, -59.5) -> (-27.675, -45.45) projected
  line L420 (-13.625, -59.5) -> (-27.675, -59.5) projected
  line L421 (-6.775, -40.325) -> (-6.775, -26.275) projected
  line L422 (7.275, -40.325) -> (-6.775, -40.325) projected
  line L423 (7.275, -26.275) -> (7.275, -40.325) projected
  line L424 (-6.775, -26.275) -> (7.275, -26.275) projected
  line L425 (12.225, -40.325) -> (12.225, -26.275) projected
  line L426 (12.225, -26.275) -> (26.275, -26.275) projected
  line L427 (26.275, -26.275) -> (26.275, -40.325) projected
  line L428 (26.275, -40.325) -> (12.225, -40.325) projected
  line L429 (31.225, -26.275) -> (45.275, -26.275) projected
  line L430 (45.275, -26.275) -> (45.275, -40.325) projected
  line L431 (31.225, -40.325) -> (31.225, -26.275) projected
  line L432 (45.275, -40.325) -> (31.225, -40.325) projected
  line L433 (50.225, -26.275) -> (64.275, -26.275) projected
  line L434 (50.225, -40.325) -> (50.225, -26.275) projected
  line L435 (64.275, -40.325) -> (50.225, -40.325) projected
  line L436 (64.275, -26.275) -> (64.275, -40.325) projected
  line L437 (61.725, -45.45) -> (75.775, -45.45) projected
  line L438 (75.775, -45.45) -> (75.775, -59.5) projected
  line L439 (61.725, -59.5) -> (61.725, -45.45) projected
  line L440 (75.775, -59.5) -> (61.725, -59.5) projected
  line L441 (-90.675, -45.95) -> (-84.625, -45.95)
  line L442 (-90.675, -58.35) -> (-84.625, -58.35)
  line L443 (-90.675, -45.95) -> (-90.675, -58.35)
  line L444 (-84.625, -45.95) -> (-84.625, -58.35)
  line L445 (43.325, -45.95) -> (49.375, -45.95)
  line L446 (43.325, -58.35) -> (49.375, -58.35)
  line L447 (43.325, -45.95) -> (43.325, -58.35)
  line L448 (49.375, -45.95) -> (49.375, -58.35)
  point P0 (0, 0)
  dimension "d0" = 0.25
  dimension "d1" = 0.25
  dimension "d2" = 0.25
  dimension "d3" = 0.25
  dimension "d4" = 0.25
  dimension "d5" = 0.25
  dimension "d6" = 0.25
  dimension "d7" = 2
  dimension "d8" = 12.4
extrude "Extrusion1" add sketch "Sketch1" along normal blind 3
sketch "Sketch2" plane through (0, 0, 0) normal (0, 0, -1) x (-1, 0, 0)
  line L0 (-49.375, -60.35) -> (-43.325, -60.35)
  line L1 (-43.325, -60.35) -> (-43.325, -49.95)
  line L2 (-43.325, -42.95) -> (-49.375, -42.95)
  line L3 (-49.375, -42.95) -> (-49.375, -60.35)
  line L4 (-43.325, -45.95) -> (-49.375, -45.95) projected
  line L5 (-49.375, -61) -> (-49.375, -43.95) construction
  line L6 (-43.325, -43.95) -> (-43.325, -61) construction
  line L7 (84.625, -61) -> (84.625, -43.95) construction
  line L8 (90.675, -43.95) -> (90.675, -61) construction
  line L9 (84.625, -42.95) -> (90.675, -42.95)
  line L10 (90.675, -42.95) -> (90.675, -60.35)
  line L11 (90.675, -60.35) -> (84.625, -60.35)
  line L12 (84.625, -60.35) -> (84.625, -49.95)
  line L13 (-43.325, -42.95) -> (84.625, -42.95)
  line L14 (-43.325, -49.95) -> (84.625, -49.95)
  line L15 (84.625, -45.95) -> (84.625, -58.35) projected
  point P0 (0, 0)
  point P1 (-49.375, -58.35)
  point P2 (-43.325, -58.35)
  dimension "d12" = 3
  dimension "d13" = 4
extrude "Extrusion2" cut sketch "Sketch2" against normal blind 2
equation "\"d0\" = ipg"
equation "\"d1\" = ipg"
equation "\"d2\" = ipg"
equation "\"d3\" = ipg"
equation "\"d4\" = ipg"
equation "\"d5\" = ipg"
equation "\"d6\" = ipg"
equation "\"ipg\" = 0.25"
properties part number "Lower Middle Plate" material "PET Plastic"
